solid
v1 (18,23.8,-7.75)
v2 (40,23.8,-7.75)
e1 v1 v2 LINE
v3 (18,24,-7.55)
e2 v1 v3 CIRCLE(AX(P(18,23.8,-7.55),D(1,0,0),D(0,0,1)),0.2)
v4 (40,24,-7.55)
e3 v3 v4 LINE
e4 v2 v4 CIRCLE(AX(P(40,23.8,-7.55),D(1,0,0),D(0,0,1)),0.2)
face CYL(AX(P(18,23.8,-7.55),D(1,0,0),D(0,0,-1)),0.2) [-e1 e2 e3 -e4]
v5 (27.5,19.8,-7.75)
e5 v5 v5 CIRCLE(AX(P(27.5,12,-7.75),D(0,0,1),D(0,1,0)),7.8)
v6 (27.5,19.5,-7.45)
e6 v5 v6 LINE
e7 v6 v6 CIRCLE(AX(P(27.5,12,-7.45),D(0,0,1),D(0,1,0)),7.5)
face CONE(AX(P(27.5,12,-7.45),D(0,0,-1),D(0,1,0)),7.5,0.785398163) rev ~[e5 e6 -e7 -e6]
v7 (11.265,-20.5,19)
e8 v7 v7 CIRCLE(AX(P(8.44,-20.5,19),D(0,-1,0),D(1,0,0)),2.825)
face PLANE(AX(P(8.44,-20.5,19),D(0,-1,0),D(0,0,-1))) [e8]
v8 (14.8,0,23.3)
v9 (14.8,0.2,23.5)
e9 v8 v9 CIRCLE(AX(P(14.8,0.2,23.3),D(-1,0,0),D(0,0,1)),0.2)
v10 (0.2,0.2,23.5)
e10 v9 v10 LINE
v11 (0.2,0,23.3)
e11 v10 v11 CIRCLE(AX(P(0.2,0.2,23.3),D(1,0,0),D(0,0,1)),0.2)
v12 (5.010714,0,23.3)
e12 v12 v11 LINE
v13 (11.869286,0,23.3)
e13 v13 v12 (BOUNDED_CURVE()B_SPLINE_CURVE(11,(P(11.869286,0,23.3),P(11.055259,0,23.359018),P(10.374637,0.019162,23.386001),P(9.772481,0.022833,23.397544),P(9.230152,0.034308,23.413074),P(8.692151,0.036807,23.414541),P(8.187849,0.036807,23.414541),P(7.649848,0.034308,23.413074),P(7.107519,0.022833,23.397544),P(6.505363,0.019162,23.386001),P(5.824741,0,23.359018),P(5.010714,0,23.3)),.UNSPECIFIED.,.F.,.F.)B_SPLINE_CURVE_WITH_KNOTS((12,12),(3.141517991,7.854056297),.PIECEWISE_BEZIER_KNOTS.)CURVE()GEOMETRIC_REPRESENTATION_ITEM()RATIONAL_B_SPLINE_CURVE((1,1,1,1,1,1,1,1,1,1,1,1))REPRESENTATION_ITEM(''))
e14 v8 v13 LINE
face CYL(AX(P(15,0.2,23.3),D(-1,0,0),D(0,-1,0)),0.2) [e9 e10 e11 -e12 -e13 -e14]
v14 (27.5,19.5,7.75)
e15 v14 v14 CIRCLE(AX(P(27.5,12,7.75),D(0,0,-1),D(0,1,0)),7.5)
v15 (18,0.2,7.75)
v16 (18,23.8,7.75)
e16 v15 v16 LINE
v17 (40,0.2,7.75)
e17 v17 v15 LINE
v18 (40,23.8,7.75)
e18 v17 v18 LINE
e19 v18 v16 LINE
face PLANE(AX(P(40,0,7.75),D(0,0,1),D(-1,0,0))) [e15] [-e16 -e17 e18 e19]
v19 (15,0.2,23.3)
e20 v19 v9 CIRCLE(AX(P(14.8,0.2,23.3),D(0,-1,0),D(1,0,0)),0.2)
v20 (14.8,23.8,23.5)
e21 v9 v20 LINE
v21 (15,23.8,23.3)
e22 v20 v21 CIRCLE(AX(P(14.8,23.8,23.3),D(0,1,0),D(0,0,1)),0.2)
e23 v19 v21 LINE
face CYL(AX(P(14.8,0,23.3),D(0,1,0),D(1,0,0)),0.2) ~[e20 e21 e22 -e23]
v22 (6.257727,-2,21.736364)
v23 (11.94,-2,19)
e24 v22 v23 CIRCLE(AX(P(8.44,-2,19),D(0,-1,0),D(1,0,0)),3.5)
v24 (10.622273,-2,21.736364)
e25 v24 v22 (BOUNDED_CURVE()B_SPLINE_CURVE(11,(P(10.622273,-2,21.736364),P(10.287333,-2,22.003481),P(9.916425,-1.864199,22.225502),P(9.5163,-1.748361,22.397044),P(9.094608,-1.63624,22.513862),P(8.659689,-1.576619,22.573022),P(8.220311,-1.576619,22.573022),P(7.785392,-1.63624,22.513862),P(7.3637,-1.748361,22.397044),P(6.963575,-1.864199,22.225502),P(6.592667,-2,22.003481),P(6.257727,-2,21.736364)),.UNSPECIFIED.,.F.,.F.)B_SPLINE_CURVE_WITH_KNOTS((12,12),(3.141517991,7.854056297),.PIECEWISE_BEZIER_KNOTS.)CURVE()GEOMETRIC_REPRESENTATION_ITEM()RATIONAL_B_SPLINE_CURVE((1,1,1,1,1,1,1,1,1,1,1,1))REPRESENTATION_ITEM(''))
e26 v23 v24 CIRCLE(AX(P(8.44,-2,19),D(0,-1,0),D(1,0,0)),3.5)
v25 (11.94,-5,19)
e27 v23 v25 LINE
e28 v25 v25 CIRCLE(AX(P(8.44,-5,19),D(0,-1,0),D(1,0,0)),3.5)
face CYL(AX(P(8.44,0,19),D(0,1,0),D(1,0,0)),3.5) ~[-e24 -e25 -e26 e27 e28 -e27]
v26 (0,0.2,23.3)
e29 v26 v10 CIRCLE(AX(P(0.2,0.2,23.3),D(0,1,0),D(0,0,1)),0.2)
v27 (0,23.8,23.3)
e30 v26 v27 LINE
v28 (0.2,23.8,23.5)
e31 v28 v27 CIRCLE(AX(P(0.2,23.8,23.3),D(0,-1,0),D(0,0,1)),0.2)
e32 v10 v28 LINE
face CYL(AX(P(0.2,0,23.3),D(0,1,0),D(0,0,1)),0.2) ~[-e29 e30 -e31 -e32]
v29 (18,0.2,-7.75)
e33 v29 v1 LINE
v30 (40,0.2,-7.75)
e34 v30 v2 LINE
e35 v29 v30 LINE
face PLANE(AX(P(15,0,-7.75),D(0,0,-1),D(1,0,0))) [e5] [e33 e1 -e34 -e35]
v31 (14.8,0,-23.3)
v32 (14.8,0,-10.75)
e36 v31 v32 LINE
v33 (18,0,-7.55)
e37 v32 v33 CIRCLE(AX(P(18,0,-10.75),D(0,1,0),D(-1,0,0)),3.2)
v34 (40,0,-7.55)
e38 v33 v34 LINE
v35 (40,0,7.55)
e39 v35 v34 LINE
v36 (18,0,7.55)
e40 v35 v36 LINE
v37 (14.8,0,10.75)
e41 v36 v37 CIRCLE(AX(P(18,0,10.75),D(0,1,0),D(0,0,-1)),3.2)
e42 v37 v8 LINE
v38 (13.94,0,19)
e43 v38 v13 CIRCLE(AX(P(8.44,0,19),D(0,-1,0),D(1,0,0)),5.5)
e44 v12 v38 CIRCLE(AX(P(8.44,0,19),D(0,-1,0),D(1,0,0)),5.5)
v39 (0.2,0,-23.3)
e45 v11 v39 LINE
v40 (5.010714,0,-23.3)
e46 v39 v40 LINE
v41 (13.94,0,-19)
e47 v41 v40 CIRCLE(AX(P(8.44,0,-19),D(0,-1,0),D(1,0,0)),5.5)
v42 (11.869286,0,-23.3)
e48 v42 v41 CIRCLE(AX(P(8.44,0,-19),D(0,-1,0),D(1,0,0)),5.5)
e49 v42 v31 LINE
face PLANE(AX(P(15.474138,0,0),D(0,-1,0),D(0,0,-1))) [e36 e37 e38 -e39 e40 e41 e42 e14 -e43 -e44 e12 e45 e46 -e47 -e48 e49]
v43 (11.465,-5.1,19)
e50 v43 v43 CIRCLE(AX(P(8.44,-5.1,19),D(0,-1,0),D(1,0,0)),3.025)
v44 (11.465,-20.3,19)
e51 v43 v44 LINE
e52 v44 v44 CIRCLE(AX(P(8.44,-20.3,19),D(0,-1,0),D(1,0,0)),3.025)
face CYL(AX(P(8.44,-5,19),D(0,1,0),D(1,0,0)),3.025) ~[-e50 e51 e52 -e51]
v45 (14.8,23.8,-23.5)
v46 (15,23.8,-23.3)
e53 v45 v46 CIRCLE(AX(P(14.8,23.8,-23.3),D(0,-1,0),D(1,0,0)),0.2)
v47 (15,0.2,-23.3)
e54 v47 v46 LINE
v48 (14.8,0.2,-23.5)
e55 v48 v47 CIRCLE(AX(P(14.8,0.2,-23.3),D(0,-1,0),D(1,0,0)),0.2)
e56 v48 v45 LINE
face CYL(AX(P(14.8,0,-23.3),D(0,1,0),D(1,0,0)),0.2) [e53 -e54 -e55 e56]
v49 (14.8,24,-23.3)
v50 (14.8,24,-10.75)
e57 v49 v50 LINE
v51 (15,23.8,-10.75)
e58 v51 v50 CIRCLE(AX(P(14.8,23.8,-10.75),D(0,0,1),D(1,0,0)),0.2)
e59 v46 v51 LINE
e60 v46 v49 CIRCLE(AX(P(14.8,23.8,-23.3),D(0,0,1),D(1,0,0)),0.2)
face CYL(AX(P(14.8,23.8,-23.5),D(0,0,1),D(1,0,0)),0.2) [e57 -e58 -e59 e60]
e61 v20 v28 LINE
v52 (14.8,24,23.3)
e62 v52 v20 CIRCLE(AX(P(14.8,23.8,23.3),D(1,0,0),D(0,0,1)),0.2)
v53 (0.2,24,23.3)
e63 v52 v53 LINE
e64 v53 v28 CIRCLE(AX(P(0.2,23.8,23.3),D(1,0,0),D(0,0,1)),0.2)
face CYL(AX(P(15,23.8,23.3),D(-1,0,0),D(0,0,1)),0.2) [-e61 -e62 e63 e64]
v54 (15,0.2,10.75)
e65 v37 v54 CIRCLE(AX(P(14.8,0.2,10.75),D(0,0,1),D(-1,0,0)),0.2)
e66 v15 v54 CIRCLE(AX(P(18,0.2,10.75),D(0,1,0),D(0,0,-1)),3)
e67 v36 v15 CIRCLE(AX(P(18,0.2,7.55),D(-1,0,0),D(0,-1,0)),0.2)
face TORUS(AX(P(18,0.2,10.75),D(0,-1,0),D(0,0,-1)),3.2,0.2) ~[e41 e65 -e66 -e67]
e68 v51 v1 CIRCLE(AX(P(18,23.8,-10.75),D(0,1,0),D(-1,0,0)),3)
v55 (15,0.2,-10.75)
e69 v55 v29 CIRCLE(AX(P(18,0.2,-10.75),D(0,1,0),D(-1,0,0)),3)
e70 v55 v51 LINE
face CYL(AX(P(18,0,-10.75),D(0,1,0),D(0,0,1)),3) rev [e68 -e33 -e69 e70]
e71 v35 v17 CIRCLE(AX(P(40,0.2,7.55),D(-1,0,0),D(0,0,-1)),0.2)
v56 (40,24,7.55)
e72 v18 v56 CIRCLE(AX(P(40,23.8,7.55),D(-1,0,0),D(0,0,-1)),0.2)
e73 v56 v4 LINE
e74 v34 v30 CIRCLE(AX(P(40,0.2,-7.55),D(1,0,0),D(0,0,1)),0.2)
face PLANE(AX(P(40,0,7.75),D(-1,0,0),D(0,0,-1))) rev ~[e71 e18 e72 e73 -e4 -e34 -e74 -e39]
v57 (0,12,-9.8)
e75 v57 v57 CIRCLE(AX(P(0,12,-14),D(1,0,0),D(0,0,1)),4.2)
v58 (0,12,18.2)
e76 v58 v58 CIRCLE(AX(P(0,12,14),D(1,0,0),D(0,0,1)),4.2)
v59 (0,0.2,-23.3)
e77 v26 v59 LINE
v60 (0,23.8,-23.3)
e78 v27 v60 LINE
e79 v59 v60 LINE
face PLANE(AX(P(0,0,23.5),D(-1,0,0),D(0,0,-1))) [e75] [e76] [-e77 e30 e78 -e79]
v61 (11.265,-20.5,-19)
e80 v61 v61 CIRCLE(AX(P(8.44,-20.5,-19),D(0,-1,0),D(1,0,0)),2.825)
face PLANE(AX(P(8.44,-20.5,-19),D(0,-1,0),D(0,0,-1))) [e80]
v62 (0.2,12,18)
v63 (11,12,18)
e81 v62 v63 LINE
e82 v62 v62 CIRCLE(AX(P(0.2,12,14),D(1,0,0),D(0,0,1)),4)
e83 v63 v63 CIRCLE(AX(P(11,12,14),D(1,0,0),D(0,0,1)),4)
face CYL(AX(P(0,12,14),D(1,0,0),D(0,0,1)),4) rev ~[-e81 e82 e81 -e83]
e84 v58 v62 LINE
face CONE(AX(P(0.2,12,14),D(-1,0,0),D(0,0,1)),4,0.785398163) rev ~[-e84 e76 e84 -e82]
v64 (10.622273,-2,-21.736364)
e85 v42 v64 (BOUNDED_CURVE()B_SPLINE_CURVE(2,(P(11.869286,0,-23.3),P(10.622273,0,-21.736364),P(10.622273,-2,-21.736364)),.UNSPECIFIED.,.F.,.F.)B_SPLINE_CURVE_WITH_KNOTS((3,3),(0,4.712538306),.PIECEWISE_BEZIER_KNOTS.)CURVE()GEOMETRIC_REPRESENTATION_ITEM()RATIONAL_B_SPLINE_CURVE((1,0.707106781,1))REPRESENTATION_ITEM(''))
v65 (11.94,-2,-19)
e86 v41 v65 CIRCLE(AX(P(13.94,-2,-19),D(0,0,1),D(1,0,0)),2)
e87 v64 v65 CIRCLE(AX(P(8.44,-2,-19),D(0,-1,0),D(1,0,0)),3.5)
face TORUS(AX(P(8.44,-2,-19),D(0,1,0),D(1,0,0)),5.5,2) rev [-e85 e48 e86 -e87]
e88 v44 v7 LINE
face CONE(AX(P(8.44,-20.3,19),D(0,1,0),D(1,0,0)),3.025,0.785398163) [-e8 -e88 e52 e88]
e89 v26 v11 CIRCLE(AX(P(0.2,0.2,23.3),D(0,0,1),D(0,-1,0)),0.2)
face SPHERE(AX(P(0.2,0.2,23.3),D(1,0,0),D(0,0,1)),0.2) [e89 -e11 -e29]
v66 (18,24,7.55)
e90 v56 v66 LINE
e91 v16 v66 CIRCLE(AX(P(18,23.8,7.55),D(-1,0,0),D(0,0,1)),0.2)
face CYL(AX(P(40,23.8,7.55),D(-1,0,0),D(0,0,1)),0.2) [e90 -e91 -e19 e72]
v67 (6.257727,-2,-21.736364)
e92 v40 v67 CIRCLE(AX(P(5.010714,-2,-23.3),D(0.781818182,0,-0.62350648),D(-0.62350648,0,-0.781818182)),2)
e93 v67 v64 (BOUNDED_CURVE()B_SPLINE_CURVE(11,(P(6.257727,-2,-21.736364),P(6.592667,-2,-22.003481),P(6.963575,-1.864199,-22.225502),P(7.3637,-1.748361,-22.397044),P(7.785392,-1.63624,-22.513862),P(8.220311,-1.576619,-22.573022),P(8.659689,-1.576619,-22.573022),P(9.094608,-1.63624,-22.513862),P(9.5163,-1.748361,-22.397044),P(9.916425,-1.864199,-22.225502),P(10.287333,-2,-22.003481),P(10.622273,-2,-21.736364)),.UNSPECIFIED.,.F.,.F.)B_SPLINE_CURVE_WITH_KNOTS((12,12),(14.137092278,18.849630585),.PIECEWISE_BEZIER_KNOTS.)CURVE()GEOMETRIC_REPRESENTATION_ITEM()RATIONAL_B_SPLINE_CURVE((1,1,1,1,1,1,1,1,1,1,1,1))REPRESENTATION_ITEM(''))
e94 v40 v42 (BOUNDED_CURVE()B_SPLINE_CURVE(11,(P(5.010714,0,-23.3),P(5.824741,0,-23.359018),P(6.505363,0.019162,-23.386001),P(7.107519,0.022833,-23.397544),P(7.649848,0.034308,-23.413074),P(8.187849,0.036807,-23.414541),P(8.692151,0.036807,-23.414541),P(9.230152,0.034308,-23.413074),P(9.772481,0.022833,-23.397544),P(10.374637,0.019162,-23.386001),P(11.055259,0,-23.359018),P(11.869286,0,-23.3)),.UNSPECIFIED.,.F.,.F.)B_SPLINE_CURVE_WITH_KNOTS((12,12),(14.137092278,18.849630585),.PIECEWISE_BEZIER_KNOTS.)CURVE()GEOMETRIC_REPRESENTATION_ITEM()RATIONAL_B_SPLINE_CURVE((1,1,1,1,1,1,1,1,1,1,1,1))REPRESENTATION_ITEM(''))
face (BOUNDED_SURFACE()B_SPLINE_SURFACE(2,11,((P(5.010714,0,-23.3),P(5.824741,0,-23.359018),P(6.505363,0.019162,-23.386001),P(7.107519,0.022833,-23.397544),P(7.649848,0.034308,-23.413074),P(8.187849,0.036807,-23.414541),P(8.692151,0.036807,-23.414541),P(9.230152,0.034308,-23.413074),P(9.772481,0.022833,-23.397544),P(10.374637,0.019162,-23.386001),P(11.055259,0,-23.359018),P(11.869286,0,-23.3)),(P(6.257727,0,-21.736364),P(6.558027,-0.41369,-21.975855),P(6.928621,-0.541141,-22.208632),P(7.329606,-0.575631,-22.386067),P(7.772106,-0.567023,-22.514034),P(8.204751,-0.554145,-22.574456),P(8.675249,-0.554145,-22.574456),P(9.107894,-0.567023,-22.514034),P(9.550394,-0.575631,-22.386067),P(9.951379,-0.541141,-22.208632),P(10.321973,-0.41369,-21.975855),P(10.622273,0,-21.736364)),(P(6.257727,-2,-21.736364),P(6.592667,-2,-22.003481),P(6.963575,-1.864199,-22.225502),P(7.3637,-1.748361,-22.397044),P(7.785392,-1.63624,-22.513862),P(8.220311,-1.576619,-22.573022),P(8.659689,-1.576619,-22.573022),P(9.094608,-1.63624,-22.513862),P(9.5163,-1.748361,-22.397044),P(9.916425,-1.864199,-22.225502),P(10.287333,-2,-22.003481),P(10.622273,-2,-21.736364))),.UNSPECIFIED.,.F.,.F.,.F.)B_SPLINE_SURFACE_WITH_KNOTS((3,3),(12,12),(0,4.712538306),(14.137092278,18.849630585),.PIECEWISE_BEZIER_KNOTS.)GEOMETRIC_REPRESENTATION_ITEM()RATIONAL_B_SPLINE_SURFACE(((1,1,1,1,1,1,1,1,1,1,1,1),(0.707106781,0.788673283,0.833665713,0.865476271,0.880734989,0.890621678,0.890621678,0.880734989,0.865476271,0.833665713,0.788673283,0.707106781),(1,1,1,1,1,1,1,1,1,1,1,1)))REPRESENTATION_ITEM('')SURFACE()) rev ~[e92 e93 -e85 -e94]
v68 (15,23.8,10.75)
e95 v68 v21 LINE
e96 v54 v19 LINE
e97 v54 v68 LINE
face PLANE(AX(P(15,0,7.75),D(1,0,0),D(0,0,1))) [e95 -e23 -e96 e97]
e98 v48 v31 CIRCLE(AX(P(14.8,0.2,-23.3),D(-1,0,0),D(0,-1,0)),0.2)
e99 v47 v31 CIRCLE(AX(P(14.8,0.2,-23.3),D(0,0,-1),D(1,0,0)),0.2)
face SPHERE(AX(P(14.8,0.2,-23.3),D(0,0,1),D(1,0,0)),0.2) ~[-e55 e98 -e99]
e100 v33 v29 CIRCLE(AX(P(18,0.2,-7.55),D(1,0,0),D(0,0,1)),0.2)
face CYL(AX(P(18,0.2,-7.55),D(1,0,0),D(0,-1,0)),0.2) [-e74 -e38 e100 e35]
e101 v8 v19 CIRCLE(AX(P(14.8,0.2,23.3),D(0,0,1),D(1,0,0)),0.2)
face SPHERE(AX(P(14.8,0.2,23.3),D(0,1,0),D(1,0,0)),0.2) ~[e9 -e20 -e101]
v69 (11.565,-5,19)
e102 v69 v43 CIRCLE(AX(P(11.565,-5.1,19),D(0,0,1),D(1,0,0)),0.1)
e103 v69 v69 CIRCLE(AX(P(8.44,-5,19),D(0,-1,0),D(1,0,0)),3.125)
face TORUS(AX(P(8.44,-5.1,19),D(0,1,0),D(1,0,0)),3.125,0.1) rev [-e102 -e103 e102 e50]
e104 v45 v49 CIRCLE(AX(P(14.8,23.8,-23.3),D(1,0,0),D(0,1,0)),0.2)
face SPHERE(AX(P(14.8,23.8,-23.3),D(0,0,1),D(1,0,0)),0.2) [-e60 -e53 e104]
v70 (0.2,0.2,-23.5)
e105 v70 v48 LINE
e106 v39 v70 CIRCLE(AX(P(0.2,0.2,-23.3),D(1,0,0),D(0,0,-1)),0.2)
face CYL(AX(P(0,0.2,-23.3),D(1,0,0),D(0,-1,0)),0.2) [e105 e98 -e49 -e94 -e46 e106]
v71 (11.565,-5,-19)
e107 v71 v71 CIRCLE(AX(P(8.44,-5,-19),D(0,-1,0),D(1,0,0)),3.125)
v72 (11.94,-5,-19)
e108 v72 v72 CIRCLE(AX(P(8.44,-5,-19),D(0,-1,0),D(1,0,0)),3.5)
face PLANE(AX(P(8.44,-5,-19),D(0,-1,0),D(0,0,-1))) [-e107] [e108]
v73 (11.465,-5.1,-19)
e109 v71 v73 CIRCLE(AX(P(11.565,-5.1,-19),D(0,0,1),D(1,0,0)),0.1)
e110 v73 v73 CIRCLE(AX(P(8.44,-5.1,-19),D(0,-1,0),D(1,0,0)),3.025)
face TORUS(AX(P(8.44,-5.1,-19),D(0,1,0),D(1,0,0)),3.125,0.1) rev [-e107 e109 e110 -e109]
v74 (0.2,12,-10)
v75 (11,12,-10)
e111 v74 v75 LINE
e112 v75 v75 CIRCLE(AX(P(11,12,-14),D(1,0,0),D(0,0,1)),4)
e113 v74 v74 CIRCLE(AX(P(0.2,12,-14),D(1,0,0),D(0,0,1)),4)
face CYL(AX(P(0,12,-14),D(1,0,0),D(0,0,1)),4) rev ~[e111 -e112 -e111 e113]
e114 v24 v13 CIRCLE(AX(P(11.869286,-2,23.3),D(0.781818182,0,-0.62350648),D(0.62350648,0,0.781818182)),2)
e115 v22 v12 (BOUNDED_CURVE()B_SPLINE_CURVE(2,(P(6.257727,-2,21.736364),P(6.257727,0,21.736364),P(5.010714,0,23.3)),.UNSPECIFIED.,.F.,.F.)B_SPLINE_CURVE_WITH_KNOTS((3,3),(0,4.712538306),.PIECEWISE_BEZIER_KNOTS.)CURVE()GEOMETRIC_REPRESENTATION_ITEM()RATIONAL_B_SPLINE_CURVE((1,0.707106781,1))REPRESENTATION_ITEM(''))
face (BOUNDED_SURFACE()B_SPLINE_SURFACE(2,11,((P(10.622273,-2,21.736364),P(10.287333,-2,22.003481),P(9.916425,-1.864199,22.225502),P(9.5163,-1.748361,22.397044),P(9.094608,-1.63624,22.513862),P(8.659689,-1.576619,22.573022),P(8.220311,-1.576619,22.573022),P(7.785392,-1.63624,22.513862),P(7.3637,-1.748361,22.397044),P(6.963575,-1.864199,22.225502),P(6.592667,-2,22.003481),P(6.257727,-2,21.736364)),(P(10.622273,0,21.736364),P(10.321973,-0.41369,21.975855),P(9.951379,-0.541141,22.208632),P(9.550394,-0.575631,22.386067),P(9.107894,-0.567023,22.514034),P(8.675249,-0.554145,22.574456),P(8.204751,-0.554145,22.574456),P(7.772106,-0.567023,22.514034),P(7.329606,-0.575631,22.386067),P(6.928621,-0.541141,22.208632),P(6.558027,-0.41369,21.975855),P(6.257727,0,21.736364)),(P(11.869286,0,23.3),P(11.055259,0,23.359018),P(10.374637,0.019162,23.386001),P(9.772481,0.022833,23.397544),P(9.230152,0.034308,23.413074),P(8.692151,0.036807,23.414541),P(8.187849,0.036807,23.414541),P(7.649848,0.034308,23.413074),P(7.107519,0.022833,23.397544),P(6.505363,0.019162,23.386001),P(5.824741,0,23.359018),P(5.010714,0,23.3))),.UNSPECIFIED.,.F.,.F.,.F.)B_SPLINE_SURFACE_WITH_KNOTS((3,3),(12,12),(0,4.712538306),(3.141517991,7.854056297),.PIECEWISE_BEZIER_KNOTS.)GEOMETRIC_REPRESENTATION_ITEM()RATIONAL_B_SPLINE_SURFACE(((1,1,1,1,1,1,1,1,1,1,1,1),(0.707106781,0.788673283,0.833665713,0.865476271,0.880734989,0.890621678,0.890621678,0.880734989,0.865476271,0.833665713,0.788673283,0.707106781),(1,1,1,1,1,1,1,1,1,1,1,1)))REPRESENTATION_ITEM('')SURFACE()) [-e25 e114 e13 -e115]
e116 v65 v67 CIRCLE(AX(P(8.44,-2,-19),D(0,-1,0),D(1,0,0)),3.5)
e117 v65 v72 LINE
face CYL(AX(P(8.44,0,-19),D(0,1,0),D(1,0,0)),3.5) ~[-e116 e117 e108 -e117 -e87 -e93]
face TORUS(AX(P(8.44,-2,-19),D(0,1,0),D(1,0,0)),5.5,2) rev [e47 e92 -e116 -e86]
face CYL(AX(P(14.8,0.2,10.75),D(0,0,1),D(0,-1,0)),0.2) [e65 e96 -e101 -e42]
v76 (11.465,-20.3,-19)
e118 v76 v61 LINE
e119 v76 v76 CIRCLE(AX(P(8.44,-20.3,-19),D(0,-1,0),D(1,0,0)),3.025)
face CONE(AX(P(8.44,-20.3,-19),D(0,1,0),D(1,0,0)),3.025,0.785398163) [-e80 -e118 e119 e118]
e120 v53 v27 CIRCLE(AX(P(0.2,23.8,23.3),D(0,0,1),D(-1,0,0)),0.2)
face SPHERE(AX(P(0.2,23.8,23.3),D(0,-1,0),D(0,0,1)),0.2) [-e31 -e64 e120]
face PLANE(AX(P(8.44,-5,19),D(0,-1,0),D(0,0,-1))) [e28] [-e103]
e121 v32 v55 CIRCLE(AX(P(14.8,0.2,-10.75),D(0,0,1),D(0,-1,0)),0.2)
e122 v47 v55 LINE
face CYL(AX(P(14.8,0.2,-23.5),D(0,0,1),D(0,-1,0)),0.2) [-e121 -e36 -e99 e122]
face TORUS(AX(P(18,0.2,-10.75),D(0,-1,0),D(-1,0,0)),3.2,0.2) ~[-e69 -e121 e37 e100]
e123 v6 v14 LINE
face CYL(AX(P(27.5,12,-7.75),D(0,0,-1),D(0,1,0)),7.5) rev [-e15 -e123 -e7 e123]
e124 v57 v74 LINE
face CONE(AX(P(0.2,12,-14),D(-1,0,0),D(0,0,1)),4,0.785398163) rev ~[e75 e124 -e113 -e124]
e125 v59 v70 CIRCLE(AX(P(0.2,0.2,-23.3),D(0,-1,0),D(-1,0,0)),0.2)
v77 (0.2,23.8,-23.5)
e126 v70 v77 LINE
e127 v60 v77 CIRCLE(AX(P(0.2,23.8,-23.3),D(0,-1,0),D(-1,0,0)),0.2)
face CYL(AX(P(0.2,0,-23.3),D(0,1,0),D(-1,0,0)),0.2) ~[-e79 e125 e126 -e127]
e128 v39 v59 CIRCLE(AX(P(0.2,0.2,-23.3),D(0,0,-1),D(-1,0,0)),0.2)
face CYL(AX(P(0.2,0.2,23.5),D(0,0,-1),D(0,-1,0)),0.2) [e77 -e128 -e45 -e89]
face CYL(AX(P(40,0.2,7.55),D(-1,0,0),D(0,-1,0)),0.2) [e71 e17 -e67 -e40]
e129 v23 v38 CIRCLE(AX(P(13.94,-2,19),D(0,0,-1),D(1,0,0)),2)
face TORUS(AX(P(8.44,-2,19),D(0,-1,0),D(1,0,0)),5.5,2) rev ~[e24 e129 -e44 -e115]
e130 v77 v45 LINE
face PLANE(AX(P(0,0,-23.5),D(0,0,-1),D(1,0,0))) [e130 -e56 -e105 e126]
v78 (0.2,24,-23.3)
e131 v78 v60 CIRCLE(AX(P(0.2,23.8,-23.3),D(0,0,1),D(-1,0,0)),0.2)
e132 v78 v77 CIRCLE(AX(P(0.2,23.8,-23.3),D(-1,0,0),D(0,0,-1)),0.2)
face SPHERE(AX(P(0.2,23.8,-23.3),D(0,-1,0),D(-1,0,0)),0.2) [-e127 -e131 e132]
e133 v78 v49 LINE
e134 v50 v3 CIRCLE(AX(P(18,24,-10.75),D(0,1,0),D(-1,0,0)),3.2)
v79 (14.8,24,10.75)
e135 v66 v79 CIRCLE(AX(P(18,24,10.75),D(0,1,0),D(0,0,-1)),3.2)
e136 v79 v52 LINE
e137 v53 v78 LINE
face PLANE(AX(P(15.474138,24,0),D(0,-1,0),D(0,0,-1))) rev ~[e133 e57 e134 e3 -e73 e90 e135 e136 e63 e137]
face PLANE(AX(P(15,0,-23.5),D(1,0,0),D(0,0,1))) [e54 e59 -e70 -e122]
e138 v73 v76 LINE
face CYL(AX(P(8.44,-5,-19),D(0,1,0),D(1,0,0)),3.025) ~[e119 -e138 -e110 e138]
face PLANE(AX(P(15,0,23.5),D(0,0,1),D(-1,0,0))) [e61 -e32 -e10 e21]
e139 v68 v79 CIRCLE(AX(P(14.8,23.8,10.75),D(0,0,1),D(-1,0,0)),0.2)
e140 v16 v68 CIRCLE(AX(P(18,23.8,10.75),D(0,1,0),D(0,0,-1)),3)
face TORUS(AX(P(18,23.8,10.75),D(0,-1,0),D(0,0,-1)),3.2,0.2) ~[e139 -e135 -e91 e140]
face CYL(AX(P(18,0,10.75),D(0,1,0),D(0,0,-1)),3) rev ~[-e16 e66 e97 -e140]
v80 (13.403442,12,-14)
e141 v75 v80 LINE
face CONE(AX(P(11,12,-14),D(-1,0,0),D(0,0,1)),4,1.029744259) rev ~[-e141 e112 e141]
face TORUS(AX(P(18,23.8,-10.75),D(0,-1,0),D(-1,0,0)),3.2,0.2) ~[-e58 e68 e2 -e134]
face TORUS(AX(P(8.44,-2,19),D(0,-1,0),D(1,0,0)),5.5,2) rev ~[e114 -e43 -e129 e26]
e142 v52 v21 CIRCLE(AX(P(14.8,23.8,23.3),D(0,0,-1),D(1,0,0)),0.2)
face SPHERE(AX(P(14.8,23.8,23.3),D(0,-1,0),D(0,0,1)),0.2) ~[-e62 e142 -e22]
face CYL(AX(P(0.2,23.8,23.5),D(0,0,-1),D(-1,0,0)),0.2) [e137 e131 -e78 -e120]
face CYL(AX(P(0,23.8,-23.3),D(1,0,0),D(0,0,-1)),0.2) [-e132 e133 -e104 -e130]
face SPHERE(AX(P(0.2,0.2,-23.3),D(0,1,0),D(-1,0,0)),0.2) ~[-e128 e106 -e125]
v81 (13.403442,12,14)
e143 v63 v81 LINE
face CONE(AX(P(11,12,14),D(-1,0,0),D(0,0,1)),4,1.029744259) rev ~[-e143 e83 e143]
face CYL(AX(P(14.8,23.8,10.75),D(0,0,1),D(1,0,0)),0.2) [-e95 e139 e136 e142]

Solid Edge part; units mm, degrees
sketch "Sketch1" plane through (0, 0, 0) normal (0, -1, 0) x (1, 0, 0)
  line L0 (40, 7.75) -> (15, 7.75)
  line L1 (15, 7.75) -> (15, 23.5)
  line L2 (15, 23.5) -> (0, 23.5)
  line L3 (0, 23.5) -> (0, -23.5)
  line L4 (0, -23.5) -> (15, -23.5)
  line L5 (15, -23.5) -> (15, -7.75)
  line L6 (15, -7.75) -> (40, -7.75)
  line L7 (40, 7.75) -> (40, -7.75)
extrude "Protrusion1" add sketch "Sketch1" against normal blind 24
sketch "Sketch2" plane through (26.19, 0, 0) normal (0, -1, 0) x (1, 0, 0)
  circle A0 centre (-17.75, -19) radius 3.5
  circle A1 centre (-17.75, 19) radius 3.5
  dimension "D1" = 6.56
  dimension "D2" = 4.5
  dimension "D3" = 4.5
extrude "Anschlag" add sketch "Sketch2" along normal blind 5
sketch "Sketch3" plane through (3.5, -5, 20) normal (0, -1, 0) x (1, 0, 0)
  circle A0 centre (4.94, -1) radius 3.025
  circle A1 centre (4.94, -39) radius 3.025
  dimension "D1" = 6.05
  dimension "D2" = 6.05
extrude "Lagersitz" add sketch "Sketch3" along normal blind 15.5
hole "Bohrung_1" at (0, 12, 14) direction (1, 0, 0) diameter 8 depth 11 tip angle 118 start chamfer 0.2 start chamfer angle 45
hole "Hole1" at (0, 12, -14) direction (1, 0, 0) diameter 8 depth 11 tip angle 118 start chamfer 0.2 start chamfer angle 45
hole "Linearlagersitz" at (27.5, 12, -7.75) direction (0, 0, 1) diameter 15 end up to next start chamfer 0.3 start chamfer angle 45
chamfer "Fase_Lager" distance 0.2 angle 45 2 edges at (5.415, -20.5, -19) (5.415, -20.5, 19)
fillet "Verrundung_Innen" radius 3 2 edges at (15, 12, 7.75) (15, 12, -7.75)
fillet "Verrundung_Außen" radius 0.2 22 edges at (0, 12, -23.5) (15, 24, -17.125) (15.8787, 24, -8.6287) (29, 24, -7.75) (15, 12, 23.5) (15, 0, -17.125) (15.8787, 0, -8.6287) (29, 0, -7.75) (29, 0, 7.75) (15.8787, 0, 8.6287) (15, 0, 17.125) (7.5, 0, 23.5) (0, 12, 23.5) (0, 0, 0) (7.5, 24, 23.5) (15, 12, -23.5) (0, 24, 0) (7.5, 24, -23.5) (29, 24, 7.75) (15.8787, 24, 8.6287) (15, 24, 17.125) (7.5, 0, -23.5)
fillet "Verrundung_Lagersitz" radius 0.1 2 edges at (5.415, -5, 19) (5.415, -5, -19)
fillet "Verrundung_WeakPoints" radius 2 2 edges at (8.44, 0, 22.5) (8.44, 0, -15.5)
